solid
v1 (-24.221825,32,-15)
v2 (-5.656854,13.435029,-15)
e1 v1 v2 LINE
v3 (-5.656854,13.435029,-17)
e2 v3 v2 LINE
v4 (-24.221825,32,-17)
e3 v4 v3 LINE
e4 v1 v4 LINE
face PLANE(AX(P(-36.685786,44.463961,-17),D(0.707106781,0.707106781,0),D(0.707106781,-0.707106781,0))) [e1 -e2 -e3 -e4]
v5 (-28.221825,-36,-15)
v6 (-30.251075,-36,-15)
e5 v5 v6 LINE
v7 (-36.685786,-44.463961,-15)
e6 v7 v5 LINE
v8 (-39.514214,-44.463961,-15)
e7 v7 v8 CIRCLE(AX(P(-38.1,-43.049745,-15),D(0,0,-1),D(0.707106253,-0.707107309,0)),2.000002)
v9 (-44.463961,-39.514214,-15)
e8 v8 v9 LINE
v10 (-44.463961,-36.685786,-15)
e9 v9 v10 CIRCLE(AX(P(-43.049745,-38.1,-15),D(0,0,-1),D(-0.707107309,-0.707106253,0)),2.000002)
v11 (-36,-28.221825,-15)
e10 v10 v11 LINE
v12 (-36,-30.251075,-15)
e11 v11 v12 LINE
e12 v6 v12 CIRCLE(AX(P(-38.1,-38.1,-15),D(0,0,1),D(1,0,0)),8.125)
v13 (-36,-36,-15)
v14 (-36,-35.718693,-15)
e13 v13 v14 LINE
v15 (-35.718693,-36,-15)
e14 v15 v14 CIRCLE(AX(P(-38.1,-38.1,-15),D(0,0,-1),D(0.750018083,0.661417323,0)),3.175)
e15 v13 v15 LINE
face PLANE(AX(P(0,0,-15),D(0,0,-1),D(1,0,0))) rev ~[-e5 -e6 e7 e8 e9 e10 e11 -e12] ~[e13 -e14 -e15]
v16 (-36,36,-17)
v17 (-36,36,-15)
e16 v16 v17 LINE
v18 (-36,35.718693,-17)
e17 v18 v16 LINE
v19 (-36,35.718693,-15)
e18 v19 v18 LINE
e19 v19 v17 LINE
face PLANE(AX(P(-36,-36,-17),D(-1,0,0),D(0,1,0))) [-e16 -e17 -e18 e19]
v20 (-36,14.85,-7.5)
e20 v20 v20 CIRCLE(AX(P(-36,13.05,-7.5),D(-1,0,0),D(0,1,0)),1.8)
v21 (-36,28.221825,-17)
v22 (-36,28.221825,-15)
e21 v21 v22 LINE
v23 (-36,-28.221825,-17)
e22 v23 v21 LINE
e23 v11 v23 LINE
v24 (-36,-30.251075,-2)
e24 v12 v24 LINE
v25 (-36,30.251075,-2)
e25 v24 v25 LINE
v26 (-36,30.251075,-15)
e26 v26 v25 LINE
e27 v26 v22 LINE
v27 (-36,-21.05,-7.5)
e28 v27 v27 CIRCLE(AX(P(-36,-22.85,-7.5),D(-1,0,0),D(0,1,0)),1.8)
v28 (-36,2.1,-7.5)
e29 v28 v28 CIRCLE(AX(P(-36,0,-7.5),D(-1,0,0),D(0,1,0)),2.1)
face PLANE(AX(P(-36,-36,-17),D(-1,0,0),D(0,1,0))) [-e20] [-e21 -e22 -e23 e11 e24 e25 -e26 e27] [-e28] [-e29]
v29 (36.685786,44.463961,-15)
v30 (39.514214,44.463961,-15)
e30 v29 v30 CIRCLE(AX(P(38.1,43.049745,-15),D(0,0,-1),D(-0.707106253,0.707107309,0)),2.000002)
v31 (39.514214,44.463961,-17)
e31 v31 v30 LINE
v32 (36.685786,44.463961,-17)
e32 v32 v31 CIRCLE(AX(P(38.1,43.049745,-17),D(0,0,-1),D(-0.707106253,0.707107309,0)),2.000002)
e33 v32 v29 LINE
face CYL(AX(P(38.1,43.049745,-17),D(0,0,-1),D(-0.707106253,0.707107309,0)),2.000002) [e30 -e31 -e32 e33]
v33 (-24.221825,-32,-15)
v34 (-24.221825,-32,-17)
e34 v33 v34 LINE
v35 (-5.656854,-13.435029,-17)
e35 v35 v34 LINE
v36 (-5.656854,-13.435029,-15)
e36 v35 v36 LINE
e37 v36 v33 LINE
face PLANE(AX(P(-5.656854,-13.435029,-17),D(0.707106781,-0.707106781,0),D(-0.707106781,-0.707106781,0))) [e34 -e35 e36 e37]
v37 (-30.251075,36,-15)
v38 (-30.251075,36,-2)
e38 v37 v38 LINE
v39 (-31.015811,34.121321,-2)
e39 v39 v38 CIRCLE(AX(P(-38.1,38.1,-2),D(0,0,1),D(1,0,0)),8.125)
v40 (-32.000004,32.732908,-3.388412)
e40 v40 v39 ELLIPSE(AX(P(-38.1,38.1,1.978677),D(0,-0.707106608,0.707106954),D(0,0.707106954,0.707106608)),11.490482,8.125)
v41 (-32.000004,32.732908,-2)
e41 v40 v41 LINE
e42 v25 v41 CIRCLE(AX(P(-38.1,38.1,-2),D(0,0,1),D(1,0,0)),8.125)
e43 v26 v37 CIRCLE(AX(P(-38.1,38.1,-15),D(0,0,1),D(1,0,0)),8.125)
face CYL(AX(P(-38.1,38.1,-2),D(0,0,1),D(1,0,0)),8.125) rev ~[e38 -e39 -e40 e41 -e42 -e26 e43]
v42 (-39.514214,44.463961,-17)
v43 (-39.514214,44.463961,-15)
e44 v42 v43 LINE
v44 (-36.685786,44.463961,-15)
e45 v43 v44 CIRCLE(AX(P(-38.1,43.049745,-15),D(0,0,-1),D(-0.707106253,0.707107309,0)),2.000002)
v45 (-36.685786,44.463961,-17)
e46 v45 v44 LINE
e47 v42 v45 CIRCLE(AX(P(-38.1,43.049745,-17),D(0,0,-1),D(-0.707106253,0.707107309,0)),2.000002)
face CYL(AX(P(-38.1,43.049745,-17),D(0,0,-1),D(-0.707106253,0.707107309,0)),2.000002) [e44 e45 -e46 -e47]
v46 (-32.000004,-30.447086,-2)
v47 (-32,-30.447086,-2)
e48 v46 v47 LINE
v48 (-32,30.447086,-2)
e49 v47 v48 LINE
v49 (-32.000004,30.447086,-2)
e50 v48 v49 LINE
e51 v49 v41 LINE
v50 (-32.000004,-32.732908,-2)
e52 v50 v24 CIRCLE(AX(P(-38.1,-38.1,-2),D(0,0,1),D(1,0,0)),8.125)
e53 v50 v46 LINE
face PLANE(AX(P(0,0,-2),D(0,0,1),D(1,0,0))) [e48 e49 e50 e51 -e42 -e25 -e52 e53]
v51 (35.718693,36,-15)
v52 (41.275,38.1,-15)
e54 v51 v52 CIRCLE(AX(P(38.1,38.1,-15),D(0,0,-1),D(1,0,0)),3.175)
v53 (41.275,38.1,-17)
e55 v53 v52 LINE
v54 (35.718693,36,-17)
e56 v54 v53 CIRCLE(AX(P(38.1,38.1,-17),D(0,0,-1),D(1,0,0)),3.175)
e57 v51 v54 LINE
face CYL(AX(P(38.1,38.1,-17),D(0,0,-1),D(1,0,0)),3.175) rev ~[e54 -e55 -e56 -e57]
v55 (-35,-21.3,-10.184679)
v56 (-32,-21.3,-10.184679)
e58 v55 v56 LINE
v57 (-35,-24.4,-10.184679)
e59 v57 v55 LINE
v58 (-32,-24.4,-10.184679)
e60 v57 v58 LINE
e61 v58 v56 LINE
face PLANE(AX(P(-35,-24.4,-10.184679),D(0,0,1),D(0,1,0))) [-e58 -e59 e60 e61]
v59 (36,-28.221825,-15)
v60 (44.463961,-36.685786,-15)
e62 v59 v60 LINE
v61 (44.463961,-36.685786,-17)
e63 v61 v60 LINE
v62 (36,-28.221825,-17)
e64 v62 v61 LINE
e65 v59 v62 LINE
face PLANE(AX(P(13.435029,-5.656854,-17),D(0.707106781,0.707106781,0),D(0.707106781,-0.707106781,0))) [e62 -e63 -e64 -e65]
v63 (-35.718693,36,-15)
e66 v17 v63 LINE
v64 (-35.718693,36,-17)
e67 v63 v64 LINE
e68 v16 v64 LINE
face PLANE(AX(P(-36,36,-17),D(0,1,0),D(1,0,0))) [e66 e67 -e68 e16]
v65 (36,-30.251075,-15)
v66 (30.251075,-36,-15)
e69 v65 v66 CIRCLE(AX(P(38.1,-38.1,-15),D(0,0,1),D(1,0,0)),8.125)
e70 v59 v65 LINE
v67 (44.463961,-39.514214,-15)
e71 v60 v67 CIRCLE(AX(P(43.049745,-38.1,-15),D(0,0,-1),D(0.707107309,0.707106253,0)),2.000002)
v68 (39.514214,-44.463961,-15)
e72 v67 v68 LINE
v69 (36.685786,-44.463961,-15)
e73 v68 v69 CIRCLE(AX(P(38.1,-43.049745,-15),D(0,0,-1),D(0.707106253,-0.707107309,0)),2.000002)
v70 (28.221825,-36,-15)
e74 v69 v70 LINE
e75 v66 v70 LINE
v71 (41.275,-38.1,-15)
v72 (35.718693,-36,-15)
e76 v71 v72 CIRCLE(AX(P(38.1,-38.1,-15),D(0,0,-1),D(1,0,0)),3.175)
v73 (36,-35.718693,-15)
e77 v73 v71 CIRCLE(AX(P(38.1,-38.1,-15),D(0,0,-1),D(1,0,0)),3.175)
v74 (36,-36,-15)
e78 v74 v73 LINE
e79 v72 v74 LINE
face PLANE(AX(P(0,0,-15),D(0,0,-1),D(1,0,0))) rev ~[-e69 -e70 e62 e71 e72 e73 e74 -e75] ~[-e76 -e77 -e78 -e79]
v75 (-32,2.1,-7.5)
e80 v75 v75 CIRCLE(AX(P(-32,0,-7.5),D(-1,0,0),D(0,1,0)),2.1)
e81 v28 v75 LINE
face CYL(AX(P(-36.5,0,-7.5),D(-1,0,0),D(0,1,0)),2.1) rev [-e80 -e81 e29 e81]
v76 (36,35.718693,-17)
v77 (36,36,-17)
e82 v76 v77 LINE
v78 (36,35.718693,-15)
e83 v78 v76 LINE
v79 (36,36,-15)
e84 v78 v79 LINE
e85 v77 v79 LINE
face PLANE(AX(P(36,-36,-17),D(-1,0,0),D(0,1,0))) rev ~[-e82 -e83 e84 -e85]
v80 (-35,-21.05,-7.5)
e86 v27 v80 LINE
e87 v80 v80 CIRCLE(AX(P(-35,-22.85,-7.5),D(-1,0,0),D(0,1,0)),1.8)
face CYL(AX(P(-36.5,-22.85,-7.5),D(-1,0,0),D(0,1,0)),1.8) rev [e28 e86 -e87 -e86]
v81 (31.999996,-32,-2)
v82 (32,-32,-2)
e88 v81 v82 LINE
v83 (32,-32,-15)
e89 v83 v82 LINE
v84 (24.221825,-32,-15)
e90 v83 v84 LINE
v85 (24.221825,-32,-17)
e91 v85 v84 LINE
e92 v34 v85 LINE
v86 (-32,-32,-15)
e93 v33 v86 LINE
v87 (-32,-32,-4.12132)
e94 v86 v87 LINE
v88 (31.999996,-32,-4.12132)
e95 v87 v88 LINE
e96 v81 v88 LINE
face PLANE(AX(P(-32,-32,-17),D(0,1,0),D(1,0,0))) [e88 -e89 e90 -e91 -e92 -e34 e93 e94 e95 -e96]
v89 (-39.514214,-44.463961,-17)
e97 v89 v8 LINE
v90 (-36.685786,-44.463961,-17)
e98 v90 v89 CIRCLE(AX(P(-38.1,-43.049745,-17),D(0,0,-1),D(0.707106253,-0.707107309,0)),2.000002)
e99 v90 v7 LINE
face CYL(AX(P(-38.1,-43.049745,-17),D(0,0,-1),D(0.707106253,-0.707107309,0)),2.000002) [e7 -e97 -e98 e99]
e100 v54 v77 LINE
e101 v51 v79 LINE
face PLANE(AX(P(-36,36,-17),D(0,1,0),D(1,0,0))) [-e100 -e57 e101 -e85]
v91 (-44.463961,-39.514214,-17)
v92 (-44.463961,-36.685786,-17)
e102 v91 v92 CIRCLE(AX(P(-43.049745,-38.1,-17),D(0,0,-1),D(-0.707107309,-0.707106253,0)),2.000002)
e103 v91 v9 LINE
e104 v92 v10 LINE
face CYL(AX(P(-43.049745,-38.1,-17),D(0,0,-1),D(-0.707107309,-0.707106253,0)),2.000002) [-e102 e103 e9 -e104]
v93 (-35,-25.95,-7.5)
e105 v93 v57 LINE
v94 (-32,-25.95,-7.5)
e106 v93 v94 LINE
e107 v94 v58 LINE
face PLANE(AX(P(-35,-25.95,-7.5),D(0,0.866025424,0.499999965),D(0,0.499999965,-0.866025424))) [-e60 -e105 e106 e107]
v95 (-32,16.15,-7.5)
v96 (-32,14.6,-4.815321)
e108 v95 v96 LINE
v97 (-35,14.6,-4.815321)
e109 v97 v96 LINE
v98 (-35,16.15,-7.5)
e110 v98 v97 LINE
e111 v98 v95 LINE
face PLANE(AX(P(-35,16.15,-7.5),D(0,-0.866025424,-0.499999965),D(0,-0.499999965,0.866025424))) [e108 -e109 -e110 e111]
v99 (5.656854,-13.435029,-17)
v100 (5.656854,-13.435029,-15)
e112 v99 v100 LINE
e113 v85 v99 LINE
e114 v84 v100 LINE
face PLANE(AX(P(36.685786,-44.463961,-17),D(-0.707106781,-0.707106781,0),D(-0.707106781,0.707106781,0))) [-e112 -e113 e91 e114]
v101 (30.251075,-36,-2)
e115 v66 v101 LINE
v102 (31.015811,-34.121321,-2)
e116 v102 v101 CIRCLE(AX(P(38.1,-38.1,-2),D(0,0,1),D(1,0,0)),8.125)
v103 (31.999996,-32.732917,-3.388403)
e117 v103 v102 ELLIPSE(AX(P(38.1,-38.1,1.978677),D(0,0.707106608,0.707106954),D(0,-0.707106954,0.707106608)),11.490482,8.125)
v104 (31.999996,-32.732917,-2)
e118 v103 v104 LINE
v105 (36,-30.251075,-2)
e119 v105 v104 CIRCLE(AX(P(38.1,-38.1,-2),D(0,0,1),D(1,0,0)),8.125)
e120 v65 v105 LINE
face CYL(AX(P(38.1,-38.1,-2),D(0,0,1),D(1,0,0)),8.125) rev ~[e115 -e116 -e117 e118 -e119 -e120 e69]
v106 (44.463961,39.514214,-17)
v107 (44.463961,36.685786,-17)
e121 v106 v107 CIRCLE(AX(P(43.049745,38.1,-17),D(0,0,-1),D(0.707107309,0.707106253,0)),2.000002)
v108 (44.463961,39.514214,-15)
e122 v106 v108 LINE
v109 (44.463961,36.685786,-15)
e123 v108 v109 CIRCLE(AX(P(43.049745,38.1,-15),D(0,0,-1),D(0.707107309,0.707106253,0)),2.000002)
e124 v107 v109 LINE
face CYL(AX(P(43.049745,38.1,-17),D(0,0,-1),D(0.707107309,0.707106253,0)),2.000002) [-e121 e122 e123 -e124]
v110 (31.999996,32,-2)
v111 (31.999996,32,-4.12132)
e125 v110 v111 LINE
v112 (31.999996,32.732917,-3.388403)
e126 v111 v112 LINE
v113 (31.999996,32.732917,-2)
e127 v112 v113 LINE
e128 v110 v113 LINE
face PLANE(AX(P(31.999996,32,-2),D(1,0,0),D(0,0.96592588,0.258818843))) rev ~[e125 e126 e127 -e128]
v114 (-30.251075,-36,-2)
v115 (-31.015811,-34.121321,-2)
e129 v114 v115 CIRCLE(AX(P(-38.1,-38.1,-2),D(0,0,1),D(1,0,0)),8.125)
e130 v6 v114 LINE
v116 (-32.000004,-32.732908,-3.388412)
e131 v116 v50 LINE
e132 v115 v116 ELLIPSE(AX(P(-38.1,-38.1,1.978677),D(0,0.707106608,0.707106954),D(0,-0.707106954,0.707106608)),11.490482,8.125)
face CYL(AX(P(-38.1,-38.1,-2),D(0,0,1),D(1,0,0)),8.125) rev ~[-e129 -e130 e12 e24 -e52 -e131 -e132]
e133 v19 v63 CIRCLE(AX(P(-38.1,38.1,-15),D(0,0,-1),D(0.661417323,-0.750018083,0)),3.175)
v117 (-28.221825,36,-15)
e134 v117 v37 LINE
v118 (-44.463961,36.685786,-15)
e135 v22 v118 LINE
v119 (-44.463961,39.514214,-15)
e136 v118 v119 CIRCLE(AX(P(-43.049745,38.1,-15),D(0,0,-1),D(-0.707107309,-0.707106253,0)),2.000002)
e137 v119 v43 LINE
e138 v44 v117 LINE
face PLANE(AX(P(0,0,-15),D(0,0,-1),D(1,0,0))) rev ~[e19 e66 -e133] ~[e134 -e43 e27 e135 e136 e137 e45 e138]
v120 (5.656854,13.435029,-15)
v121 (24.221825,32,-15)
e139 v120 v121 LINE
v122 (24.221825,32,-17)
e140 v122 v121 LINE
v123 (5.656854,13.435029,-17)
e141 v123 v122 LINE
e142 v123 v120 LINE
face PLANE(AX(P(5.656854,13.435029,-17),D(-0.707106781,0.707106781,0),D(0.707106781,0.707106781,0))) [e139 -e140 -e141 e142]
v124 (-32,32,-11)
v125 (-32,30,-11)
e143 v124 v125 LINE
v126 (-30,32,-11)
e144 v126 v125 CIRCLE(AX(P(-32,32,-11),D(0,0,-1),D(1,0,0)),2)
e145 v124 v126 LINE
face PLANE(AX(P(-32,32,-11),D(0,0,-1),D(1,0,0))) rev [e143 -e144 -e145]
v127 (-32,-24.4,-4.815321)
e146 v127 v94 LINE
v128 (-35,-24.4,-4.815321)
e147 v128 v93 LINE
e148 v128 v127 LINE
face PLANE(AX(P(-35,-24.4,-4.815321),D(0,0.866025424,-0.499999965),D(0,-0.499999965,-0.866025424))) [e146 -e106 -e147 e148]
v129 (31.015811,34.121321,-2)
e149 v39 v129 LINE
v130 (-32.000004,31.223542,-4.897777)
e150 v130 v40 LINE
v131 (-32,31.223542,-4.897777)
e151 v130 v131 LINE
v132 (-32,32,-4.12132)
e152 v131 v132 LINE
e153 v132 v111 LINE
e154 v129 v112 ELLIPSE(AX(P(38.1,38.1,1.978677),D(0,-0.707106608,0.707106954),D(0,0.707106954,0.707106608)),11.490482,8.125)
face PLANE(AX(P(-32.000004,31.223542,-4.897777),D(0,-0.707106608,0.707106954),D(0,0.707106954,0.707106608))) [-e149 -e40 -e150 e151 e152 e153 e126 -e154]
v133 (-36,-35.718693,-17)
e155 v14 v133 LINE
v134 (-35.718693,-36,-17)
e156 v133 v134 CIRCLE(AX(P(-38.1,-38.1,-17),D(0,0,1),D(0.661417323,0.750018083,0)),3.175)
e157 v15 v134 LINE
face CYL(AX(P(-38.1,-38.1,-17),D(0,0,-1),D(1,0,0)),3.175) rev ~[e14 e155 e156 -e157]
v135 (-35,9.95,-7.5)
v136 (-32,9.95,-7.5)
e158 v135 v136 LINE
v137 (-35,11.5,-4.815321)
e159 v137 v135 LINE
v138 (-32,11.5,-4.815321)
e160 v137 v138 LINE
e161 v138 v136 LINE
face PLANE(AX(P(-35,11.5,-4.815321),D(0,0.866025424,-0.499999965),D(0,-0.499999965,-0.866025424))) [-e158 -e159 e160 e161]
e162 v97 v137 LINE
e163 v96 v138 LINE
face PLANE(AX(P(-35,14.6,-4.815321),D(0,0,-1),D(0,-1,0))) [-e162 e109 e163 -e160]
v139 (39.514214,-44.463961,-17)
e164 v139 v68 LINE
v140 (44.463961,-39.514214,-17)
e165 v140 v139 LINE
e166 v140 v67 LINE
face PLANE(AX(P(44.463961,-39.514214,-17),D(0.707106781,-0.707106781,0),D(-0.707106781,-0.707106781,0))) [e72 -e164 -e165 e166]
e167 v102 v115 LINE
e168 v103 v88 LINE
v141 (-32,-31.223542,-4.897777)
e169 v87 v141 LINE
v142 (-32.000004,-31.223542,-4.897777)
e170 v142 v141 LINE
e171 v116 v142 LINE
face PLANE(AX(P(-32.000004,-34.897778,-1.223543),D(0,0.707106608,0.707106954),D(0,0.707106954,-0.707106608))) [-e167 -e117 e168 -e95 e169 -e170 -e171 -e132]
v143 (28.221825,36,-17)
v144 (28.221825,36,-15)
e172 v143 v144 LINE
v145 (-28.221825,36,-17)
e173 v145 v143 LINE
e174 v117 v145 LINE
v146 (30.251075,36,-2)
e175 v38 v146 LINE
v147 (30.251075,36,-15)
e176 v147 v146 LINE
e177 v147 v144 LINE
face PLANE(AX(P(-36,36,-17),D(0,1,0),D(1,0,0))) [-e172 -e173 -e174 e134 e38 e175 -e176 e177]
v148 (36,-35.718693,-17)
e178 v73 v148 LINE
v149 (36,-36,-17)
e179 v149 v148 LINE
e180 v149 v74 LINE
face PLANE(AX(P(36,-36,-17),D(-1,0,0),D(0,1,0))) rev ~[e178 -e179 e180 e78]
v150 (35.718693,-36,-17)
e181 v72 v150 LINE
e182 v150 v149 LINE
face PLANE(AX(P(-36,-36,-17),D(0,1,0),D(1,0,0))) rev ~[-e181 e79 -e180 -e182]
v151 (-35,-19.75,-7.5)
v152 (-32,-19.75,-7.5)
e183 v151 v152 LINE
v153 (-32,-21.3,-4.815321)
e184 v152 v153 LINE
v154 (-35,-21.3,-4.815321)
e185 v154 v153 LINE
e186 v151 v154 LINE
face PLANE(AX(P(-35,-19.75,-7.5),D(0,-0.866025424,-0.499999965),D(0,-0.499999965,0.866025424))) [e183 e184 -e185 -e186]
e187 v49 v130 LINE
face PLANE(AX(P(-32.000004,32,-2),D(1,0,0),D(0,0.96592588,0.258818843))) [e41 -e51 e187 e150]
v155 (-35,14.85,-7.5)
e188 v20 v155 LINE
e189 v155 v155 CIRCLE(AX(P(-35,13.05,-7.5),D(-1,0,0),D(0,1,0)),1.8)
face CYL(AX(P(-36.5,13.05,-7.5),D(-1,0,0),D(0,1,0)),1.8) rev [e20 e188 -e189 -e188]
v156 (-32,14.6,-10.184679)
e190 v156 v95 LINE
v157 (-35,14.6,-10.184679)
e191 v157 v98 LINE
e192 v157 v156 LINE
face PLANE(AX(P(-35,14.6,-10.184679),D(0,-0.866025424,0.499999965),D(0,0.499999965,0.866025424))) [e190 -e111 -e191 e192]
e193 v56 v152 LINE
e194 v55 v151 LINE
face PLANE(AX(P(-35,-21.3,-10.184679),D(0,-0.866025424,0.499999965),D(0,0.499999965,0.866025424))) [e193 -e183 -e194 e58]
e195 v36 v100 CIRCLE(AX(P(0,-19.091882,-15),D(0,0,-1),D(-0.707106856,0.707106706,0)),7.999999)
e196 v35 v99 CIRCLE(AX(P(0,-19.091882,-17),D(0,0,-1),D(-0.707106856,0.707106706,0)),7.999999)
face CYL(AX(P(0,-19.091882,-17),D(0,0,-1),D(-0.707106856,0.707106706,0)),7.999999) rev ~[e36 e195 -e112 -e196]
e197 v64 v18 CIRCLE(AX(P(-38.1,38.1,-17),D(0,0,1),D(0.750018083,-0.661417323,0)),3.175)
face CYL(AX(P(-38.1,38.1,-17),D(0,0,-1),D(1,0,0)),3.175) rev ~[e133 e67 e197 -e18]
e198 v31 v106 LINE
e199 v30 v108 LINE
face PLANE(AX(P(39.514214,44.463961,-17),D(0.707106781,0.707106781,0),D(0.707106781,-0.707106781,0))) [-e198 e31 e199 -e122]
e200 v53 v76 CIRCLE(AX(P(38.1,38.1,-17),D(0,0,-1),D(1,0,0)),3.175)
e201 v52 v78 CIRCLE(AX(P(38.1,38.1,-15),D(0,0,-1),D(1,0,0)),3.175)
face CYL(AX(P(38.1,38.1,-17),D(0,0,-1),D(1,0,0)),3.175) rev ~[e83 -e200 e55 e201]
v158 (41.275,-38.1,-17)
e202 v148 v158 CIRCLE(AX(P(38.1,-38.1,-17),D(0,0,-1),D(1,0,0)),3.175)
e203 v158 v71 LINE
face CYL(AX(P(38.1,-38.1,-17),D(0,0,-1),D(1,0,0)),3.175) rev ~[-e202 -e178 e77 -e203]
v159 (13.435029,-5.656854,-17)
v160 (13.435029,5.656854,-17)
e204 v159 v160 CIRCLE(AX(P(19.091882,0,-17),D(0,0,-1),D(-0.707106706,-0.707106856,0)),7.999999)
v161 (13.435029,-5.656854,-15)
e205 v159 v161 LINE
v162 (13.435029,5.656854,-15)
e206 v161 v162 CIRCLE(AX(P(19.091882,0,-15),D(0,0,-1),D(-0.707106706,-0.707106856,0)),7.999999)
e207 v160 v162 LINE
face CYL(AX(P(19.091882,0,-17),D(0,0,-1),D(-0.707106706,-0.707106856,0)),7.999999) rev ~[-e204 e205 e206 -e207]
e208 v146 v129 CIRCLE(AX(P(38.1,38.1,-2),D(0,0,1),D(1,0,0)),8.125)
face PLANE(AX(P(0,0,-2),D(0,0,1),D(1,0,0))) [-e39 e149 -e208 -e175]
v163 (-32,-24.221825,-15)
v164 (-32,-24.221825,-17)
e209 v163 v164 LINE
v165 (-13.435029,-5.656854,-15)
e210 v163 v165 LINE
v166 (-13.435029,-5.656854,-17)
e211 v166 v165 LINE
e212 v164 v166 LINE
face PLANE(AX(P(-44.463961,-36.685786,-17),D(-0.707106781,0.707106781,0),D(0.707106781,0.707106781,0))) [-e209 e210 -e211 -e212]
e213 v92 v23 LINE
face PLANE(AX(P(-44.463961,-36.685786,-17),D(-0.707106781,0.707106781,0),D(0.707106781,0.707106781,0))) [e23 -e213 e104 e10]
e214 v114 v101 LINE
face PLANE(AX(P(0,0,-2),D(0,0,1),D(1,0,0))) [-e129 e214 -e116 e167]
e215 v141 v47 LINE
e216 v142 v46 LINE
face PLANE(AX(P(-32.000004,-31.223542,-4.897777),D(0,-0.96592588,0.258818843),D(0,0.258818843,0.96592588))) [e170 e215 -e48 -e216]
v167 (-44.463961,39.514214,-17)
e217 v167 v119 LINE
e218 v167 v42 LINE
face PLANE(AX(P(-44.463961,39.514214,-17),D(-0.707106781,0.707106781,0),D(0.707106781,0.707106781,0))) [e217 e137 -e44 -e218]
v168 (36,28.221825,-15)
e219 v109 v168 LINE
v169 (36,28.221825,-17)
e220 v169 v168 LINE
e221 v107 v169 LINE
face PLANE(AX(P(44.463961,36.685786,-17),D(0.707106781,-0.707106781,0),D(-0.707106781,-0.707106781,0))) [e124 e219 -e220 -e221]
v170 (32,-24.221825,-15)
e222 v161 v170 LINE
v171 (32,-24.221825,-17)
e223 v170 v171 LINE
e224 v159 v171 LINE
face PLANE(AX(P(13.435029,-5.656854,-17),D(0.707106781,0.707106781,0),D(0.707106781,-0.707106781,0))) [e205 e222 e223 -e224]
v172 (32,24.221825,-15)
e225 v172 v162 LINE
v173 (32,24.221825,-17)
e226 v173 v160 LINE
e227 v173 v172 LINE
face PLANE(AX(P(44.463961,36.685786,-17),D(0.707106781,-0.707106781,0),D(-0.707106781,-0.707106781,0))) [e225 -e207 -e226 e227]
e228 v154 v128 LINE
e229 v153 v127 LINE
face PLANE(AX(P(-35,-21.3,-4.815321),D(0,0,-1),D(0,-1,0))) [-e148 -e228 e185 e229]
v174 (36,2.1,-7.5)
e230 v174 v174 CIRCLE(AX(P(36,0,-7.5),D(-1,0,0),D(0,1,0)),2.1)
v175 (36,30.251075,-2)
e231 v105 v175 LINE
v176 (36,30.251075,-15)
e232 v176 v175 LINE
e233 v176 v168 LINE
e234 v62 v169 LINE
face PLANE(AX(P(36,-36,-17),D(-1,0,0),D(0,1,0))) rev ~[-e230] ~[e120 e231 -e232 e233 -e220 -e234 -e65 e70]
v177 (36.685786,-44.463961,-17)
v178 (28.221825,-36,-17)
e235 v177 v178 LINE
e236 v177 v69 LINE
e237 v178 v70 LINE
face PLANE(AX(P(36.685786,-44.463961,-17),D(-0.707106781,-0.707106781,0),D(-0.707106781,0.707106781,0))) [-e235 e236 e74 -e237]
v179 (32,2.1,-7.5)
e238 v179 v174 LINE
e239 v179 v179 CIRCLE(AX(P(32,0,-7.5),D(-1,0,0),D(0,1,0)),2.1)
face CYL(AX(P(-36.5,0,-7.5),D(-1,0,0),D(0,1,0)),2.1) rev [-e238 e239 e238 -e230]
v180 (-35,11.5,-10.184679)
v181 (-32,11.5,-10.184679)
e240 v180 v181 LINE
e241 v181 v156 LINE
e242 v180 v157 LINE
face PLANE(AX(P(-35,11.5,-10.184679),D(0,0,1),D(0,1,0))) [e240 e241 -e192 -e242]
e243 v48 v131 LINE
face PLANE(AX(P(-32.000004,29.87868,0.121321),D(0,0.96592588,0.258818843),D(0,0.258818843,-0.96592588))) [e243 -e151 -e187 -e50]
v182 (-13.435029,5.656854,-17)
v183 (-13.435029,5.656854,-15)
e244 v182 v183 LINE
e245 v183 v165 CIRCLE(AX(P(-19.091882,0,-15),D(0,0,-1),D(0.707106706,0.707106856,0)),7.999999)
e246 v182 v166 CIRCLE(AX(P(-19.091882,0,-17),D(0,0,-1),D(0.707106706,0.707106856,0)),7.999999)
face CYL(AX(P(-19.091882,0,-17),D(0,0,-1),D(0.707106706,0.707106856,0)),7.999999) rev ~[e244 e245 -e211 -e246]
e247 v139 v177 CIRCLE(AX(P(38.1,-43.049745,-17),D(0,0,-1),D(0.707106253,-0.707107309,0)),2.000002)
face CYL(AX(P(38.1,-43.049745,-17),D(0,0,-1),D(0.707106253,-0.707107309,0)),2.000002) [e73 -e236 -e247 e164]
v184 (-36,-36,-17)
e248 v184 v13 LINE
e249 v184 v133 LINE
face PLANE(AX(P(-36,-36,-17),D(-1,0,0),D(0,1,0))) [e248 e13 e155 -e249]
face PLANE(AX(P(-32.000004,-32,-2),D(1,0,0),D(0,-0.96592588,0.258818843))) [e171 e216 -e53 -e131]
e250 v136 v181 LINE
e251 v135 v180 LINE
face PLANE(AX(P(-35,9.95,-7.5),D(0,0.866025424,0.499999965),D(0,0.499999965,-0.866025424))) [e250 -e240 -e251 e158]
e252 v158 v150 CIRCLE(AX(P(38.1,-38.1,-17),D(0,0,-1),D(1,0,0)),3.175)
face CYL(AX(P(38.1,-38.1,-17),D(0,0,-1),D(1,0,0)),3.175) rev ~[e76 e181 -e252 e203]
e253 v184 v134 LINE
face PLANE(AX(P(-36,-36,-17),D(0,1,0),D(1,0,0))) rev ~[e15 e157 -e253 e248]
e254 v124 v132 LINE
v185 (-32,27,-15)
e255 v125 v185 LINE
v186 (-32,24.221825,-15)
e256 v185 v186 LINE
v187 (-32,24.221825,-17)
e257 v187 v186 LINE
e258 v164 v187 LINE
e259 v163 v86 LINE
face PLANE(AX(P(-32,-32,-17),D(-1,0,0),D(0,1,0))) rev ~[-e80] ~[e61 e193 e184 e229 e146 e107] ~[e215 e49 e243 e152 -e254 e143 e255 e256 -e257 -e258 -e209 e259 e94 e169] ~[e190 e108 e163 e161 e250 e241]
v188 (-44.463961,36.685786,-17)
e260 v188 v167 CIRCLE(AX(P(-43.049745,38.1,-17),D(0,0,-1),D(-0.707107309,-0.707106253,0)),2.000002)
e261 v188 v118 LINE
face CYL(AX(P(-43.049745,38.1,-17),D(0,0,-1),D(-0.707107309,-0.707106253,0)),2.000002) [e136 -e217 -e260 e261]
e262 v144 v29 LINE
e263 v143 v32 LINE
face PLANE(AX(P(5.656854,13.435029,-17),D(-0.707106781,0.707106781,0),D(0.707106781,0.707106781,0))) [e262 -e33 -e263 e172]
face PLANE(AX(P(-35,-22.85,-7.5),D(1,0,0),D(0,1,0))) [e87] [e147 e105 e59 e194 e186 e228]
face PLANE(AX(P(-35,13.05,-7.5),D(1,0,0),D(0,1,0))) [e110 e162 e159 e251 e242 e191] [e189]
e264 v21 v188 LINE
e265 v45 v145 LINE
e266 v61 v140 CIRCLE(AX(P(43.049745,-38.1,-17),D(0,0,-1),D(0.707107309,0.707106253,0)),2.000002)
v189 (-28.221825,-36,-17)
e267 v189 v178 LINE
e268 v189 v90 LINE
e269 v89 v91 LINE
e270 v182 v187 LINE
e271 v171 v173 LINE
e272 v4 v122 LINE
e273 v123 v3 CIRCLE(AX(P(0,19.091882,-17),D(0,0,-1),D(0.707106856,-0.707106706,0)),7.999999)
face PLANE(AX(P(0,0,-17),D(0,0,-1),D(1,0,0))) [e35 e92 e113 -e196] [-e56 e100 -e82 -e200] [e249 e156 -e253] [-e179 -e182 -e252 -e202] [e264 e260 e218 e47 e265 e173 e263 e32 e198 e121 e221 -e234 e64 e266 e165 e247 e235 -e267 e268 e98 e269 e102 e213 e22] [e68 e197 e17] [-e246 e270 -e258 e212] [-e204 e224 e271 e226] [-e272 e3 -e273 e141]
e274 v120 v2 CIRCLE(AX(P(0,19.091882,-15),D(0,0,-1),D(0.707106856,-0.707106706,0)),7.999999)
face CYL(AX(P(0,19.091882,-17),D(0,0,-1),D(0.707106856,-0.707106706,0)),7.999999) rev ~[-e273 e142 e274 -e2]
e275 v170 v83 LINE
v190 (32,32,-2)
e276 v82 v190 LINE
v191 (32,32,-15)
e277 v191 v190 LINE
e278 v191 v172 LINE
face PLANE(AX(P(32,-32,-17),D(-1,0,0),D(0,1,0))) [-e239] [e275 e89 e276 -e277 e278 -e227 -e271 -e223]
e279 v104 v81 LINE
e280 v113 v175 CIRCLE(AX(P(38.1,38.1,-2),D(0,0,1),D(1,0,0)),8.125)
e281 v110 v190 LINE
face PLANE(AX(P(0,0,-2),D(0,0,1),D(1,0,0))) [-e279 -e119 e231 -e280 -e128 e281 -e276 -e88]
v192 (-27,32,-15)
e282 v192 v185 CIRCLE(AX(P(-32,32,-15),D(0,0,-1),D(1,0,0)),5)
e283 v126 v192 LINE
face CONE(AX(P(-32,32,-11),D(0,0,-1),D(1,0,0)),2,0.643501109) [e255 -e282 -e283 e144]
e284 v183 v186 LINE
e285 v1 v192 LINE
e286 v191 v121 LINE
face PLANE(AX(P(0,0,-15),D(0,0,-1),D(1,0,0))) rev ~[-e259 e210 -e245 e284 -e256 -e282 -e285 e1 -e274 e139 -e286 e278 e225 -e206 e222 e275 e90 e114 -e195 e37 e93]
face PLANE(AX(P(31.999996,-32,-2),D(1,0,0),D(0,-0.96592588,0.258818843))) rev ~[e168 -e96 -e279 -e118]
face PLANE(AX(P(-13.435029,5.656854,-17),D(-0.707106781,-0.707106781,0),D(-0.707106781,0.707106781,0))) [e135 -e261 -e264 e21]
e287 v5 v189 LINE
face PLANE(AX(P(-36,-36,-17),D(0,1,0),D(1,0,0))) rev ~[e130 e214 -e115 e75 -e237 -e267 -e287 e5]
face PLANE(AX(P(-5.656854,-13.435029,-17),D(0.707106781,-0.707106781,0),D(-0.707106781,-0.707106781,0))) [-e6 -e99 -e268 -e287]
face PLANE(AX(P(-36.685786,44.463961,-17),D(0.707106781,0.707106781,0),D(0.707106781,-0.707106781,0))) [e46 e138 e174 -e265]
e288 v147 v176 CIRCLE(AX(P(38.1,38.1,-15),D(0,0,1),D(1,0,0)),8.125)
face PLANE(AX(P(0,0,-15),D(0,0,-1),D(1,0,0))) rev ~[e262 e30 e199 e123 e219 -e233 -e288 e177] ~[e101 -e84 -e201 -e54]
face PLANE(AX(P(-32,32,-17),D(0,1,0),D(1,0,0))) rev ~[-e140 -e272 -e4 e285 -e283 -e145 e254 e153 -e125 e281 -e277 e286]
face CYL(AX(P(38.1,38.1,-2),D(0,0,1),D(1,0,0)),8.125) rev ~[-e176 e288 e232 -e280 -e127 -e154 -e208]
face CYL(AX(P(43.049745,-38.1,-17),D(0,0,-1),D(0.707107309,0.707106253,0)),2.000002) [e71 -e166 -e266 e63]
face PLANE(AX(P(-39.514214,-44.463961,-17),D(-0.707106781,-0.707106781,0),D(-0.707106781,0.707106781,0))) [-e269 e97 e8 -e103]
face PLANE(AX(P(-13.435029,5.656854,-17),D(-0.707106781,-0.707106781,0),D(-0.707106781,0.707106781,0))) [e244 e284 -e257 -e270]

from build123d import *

# Parameters (mm, degrees)
CYLINDER_R               = 2.1
CYLINDER_DEPTH           = 73
PRISM_DEPTH              = 64
PRISM_ROLL_ANGLE         = 90
PRISM_PITCH_ANGLE        = -14.999988
PRISM_PLACEMENT_ANGLE    = 90
PRISM001_DEPTH           = 64
PRISM001_ROLL_ANGLE      = -90
PRISM001_PITCH_ANGLE     = -14.999988
PRISM001_PLACEMENT_ANGLE = -90
PRISM002_DEPTH           = 3
PRISM003_DEPTH           = 3
CYLINDER001_R            = 1.8
CYLINDER001_DEPTH        = 6
CYLINDER002_R            = 1.8
CYLINDER002_DEPTH        = 6
CUBE001_W                = 64
CUBE001_H                = 64
CUBE001_DEPTH            = 15
CUBE_W                   = 72
CUBE_H                   = 72
CUBE_DEPTH               = 15
SKETCH001_R              = 3.175
PAD_DEPTH                = 2
SKETCH_R                 = 8.125
POCKET_DEPTH             = 13
REVOLUTION_ANGLE         = -90


with BuildPart() as cylinder:
    # cylinder → cylinder (new body)
    with BuildSketch(Plane(origin=(-36.5, 0, -7.5), x_dir=(0, 1, 0), z_dir=(1, 0, 0))):
        Circle(CYLINDER_R)
    extrude(amount=CYLINDER_DEPTH)


with BuildPart() as prism:
    # prism → prism (new body)
    with BuildSketch(Plane.XY):
        Polygon((3, 0), (-1.5, 2.598076), (-1.5, -2.598076), align=None)
    extrude(amount=PRISM_DEPTH)


with BuildPart() as prism_1:
    # prism roll: moved
    add(prism.part.rotate(Axis((0, 0, 0), (1, 0, 0)), PRISM_ROLL_ANGLE))


with BuildPart() as prism_2:
    # prism pitch: moved
    add(prism_1.part.rotate(Axis((0, 0, 0), (0, 1, 0)), PRISM_PITCH_ANGLE))


with BuildPart() as prism_3:
    # prism placement: moved
    add(prism_2.part.moved(Location((-32.000004, 32, -2))).rotate(Axis((-32.000004, 32, -2), (0, 0, 1)), PRISM_PLACEMENT_ANGLE))


with BuildPart() as prism001:
    # prism001 → prism001 (new body)
    with BuildSketch(Plane.XY):
        Polygon((3, 0), (-1.5, 2.598076), (-1.5, -2.598076), align=None)
    extrude(amount=PRISM001_DEPTH)


with BuildPart() as prism001_1:
    # prism001 roll: moved
    add(prism001.part.rotate(Axis((0, 0, 0), (1, 0, 0)), PRISM001_ROLL_ANGLE))


with BuildPart() as prism001_2:
    # prism001 pitch: moved
    add(prism001_1.part.rotate(Axis((0, 0, 0), (0, 1, 0)), PRISM001_PITCH_ANGLE))


with BuildPart() as prism001_3:
    # prism001 placement: moved
    add(prism001_2.part.moved(Location((-32.000004, -32, -2))).rotate(Axis((-32.000004, -32, -2), (0, 0, 1)), PRISM001_PLACEMENT_ANGLE))


with BuildPart() as prism002:
    # prism002 → prism002 (new body)
    with BuildSketch(Plane(origin=(-35, 13.05, -7.5), x_dir=(0, 1, 0), z_dir=(1, 0, 0))):
        Polygon((3.1, 0), (1.55, 2.684679), (-1.55, 2.684679), (-3.1, 0), (-1.55, -2.684679), (1.55, -2.684679), align=None)
    extrude(amount=PRISM002_DEPTH)


with BuildPart() as prism003:
    # prism003 → prism003 (new body)
    with BuildSketch(Plane(origin=(-35, -22.85, -7.5), x_dir=(0, 1, 0), z_dir=(1, 0, 0))):
        Polygon((3.1, 0), (1.55, 2.684679), (-1.55, 2.684679), (-3.1, 0), (-1.55, -2.684679), (1.55, -2.684679), align=None)
    extrude(amount=PRISM003_DEPTH)


with BuildPart() as cylinder001:
    # cylinder001 → cylinder001 (new body)
    with BuildSketch(Plane(origin=(-36.5, 13.05, -7.5), x_dir=(0, 1, 0), z_dir=(1, 0, 0))):
        Circle(CYLINDER001_R)
    extrude(amount=CYLINDER001_DEPTH)


with BuildPart() as cylinder002:
    # cylinder002 → cylinder002 (new body)
    with BuildSketch(Plane(origin=(-36.5, -22.85, -7.5), x_dir=(0, 1, 0), z_dir=(1, 0, 0))):
        Circle(CYLINDER002_R)
    extrude(amount=CYLINDER002_DEPTH)


with BuildPart() as group:
    # cube001 → cube001 (new body)
    with BuildSketch(Plane(origin=(-32, -32, -17), x_dir=(1, 0, 0), z_dir=(0, 0, 1))):
        with Locations((32, 32)):
            Rectangle(CUBE001_W, CUBE001_H)
    extrude(amount=CUBE001_DEPTH)

    # Group: union cylinder, prism, prism001, prism002, prism003, cylinder001, cylinder002
    add(cylinder.part)
    add(prism_3.part)
    add(prism001_3.part)
    add(prism002.part)
    add(prism003.part)
    add(cylinder001.part)
    add(cylinder002.part)


with BuildPart() as base_square:
    # cube → cube (new body)
    with BuildSketch(Plane(origin=(-36, -36, -17), x_dir=(1, 0, 0), z_dir=(0, 0, 1))):
        with Locations((36, 36)):
            Rectangle(CUBE_W, CUBE_H)
    extrude(amount=CUBE_DEPTH)

    # difference: cut Group
    add(group.part, mode=Mode.SUBTRACT)

    # Sketch001 → Pad (new body)
    with BuildSketch(Plane(origin=(0, 0, -17), x_dir=(1, 0, 0), z_dir=(0, 0, -1))):
        with BuildLine():
            Line((-44.463961, 36.685786), (-13.435029, 5.656854))
            ThreePointArc((-13.435029, -5.656854), (-11.091883, 0), (-13.435029, 5.656854))
            Line((-13.435029, -5.656854), (-44.463961, -36.685786))
            ThreePointArc((-44.463961, -36.685786), (-45.049747, -38.1), (-44.463961, -39.514214))
            Line((-44.463961, -39.514214), (-39.514214, -44.463961))
            ThreePointArc((-39.514214, -44.463961), (-38.1, -45.049747), (-36.685786, -44.463961))
            Line((-36.685786, -44.463961), (-5.656854, -13.435029))
            ThreePointArc((5.656854, -13.435029), (0, -11.091883), (-5.656854, -13.435029))
            Line((5.656854, -13.435029), (36.685786, -44.463961))
            ThreePointArc((36.685786, -44.463961), (38.1, -45.049747), (39.514214, -44.463961))
            Line((39.514214, -44.463961), (44.463961, -39.514214))
            ThreePointArc((44.463961, -39.514214), (45.049747, -38.1), (44.463961, -36.685786))
            Line((44.463961, -36.685786), (13.435029, -5.656854))
            ThreePointArc((13.435029, 5.656854), (11.091883, 0), (13.435029, -5.656854))
            Line((13.435029, 5.656854), (44.463961, 36.685786))
            ThreePointArc((44.463961, 36.685786), (45.049747, 38.1), (44.463961, 39.514214))
            Line((44.463961, 39.514214), (39.514214, 44.463961))
            ThreePointArc((39.514214, 44.463961), (38.1, 45.049747), (36.685786, 44.463961))
            Line((36.685786, 44.463961), (5.656854, 13.435029))
            ThreePointArc((-5.656854, 13.435029), (0, 11.091883), (5.656854, 13.435029))
            Line((-5.656854, 13.435029), (-36.685786, 44.463961))
            ThreePointArc((-36.685786, 44.463961), (-38.1, 45.049747), (-39.514214, 44.463961))
            Line((-39.514214, 44.463961), (-44.463961, 39.514214))
            ThreePointArc((-44.463961, 39.514214), (-45.049747, 38.1), (-44.463961, 36.685786))
        make_face()
        with Locations((-38.1, 38.1)):
            Circle(SKETCH001_R, mode=Mode.SUBTRACT)
        with Locations((38.1, 38.1)):
            Circle(SKETCH001_R, mode=Mode.SUBTRACT)
        with Locations((-38.1, -38.1)):
            Circle(SKETCH001_R, mode=Mode.SUBTRACT)
        with Locations((38.1, -38.1)):
            Circle(SKETCH001_R, mode=Mode.SUBTRACT)
    extrude(amount=-PAD_DEPTH)

    # Sketch (on Face21 of Pad) → Pocket (cut)
    with BuildSketch(Plane.XY.offset(-2)):
        with Locations((-38.1, -38.1)):
            Circle(SKETCH_R)
        with Locations((38.1, -38.1)):
            Circle(SKETCH_R)
        with Locations((38.1, 38.1)):
            Circle(SKETCH_R)
        with Locations((-38.1, 38.1)):
            Circle(SKETCH_R)
    extrude(amount=-POCKET_DEPTH, mode=Mode.SUBTRACT)

    # Sketch002 (on Face26 of Pocket) → Revolution (revolve)
    with BuildSketch(Plane.XZ.offset(-32)):
        Polygon((-32, -15), (-32, -11), (-30, -11), (-27, -15), align=None)
    revolve(axis=Axis((-32, 32, -9.56066), (0, 0, 1)), revolution_arc=REVOLUTION_ANGLE)


solid = base_square.part
